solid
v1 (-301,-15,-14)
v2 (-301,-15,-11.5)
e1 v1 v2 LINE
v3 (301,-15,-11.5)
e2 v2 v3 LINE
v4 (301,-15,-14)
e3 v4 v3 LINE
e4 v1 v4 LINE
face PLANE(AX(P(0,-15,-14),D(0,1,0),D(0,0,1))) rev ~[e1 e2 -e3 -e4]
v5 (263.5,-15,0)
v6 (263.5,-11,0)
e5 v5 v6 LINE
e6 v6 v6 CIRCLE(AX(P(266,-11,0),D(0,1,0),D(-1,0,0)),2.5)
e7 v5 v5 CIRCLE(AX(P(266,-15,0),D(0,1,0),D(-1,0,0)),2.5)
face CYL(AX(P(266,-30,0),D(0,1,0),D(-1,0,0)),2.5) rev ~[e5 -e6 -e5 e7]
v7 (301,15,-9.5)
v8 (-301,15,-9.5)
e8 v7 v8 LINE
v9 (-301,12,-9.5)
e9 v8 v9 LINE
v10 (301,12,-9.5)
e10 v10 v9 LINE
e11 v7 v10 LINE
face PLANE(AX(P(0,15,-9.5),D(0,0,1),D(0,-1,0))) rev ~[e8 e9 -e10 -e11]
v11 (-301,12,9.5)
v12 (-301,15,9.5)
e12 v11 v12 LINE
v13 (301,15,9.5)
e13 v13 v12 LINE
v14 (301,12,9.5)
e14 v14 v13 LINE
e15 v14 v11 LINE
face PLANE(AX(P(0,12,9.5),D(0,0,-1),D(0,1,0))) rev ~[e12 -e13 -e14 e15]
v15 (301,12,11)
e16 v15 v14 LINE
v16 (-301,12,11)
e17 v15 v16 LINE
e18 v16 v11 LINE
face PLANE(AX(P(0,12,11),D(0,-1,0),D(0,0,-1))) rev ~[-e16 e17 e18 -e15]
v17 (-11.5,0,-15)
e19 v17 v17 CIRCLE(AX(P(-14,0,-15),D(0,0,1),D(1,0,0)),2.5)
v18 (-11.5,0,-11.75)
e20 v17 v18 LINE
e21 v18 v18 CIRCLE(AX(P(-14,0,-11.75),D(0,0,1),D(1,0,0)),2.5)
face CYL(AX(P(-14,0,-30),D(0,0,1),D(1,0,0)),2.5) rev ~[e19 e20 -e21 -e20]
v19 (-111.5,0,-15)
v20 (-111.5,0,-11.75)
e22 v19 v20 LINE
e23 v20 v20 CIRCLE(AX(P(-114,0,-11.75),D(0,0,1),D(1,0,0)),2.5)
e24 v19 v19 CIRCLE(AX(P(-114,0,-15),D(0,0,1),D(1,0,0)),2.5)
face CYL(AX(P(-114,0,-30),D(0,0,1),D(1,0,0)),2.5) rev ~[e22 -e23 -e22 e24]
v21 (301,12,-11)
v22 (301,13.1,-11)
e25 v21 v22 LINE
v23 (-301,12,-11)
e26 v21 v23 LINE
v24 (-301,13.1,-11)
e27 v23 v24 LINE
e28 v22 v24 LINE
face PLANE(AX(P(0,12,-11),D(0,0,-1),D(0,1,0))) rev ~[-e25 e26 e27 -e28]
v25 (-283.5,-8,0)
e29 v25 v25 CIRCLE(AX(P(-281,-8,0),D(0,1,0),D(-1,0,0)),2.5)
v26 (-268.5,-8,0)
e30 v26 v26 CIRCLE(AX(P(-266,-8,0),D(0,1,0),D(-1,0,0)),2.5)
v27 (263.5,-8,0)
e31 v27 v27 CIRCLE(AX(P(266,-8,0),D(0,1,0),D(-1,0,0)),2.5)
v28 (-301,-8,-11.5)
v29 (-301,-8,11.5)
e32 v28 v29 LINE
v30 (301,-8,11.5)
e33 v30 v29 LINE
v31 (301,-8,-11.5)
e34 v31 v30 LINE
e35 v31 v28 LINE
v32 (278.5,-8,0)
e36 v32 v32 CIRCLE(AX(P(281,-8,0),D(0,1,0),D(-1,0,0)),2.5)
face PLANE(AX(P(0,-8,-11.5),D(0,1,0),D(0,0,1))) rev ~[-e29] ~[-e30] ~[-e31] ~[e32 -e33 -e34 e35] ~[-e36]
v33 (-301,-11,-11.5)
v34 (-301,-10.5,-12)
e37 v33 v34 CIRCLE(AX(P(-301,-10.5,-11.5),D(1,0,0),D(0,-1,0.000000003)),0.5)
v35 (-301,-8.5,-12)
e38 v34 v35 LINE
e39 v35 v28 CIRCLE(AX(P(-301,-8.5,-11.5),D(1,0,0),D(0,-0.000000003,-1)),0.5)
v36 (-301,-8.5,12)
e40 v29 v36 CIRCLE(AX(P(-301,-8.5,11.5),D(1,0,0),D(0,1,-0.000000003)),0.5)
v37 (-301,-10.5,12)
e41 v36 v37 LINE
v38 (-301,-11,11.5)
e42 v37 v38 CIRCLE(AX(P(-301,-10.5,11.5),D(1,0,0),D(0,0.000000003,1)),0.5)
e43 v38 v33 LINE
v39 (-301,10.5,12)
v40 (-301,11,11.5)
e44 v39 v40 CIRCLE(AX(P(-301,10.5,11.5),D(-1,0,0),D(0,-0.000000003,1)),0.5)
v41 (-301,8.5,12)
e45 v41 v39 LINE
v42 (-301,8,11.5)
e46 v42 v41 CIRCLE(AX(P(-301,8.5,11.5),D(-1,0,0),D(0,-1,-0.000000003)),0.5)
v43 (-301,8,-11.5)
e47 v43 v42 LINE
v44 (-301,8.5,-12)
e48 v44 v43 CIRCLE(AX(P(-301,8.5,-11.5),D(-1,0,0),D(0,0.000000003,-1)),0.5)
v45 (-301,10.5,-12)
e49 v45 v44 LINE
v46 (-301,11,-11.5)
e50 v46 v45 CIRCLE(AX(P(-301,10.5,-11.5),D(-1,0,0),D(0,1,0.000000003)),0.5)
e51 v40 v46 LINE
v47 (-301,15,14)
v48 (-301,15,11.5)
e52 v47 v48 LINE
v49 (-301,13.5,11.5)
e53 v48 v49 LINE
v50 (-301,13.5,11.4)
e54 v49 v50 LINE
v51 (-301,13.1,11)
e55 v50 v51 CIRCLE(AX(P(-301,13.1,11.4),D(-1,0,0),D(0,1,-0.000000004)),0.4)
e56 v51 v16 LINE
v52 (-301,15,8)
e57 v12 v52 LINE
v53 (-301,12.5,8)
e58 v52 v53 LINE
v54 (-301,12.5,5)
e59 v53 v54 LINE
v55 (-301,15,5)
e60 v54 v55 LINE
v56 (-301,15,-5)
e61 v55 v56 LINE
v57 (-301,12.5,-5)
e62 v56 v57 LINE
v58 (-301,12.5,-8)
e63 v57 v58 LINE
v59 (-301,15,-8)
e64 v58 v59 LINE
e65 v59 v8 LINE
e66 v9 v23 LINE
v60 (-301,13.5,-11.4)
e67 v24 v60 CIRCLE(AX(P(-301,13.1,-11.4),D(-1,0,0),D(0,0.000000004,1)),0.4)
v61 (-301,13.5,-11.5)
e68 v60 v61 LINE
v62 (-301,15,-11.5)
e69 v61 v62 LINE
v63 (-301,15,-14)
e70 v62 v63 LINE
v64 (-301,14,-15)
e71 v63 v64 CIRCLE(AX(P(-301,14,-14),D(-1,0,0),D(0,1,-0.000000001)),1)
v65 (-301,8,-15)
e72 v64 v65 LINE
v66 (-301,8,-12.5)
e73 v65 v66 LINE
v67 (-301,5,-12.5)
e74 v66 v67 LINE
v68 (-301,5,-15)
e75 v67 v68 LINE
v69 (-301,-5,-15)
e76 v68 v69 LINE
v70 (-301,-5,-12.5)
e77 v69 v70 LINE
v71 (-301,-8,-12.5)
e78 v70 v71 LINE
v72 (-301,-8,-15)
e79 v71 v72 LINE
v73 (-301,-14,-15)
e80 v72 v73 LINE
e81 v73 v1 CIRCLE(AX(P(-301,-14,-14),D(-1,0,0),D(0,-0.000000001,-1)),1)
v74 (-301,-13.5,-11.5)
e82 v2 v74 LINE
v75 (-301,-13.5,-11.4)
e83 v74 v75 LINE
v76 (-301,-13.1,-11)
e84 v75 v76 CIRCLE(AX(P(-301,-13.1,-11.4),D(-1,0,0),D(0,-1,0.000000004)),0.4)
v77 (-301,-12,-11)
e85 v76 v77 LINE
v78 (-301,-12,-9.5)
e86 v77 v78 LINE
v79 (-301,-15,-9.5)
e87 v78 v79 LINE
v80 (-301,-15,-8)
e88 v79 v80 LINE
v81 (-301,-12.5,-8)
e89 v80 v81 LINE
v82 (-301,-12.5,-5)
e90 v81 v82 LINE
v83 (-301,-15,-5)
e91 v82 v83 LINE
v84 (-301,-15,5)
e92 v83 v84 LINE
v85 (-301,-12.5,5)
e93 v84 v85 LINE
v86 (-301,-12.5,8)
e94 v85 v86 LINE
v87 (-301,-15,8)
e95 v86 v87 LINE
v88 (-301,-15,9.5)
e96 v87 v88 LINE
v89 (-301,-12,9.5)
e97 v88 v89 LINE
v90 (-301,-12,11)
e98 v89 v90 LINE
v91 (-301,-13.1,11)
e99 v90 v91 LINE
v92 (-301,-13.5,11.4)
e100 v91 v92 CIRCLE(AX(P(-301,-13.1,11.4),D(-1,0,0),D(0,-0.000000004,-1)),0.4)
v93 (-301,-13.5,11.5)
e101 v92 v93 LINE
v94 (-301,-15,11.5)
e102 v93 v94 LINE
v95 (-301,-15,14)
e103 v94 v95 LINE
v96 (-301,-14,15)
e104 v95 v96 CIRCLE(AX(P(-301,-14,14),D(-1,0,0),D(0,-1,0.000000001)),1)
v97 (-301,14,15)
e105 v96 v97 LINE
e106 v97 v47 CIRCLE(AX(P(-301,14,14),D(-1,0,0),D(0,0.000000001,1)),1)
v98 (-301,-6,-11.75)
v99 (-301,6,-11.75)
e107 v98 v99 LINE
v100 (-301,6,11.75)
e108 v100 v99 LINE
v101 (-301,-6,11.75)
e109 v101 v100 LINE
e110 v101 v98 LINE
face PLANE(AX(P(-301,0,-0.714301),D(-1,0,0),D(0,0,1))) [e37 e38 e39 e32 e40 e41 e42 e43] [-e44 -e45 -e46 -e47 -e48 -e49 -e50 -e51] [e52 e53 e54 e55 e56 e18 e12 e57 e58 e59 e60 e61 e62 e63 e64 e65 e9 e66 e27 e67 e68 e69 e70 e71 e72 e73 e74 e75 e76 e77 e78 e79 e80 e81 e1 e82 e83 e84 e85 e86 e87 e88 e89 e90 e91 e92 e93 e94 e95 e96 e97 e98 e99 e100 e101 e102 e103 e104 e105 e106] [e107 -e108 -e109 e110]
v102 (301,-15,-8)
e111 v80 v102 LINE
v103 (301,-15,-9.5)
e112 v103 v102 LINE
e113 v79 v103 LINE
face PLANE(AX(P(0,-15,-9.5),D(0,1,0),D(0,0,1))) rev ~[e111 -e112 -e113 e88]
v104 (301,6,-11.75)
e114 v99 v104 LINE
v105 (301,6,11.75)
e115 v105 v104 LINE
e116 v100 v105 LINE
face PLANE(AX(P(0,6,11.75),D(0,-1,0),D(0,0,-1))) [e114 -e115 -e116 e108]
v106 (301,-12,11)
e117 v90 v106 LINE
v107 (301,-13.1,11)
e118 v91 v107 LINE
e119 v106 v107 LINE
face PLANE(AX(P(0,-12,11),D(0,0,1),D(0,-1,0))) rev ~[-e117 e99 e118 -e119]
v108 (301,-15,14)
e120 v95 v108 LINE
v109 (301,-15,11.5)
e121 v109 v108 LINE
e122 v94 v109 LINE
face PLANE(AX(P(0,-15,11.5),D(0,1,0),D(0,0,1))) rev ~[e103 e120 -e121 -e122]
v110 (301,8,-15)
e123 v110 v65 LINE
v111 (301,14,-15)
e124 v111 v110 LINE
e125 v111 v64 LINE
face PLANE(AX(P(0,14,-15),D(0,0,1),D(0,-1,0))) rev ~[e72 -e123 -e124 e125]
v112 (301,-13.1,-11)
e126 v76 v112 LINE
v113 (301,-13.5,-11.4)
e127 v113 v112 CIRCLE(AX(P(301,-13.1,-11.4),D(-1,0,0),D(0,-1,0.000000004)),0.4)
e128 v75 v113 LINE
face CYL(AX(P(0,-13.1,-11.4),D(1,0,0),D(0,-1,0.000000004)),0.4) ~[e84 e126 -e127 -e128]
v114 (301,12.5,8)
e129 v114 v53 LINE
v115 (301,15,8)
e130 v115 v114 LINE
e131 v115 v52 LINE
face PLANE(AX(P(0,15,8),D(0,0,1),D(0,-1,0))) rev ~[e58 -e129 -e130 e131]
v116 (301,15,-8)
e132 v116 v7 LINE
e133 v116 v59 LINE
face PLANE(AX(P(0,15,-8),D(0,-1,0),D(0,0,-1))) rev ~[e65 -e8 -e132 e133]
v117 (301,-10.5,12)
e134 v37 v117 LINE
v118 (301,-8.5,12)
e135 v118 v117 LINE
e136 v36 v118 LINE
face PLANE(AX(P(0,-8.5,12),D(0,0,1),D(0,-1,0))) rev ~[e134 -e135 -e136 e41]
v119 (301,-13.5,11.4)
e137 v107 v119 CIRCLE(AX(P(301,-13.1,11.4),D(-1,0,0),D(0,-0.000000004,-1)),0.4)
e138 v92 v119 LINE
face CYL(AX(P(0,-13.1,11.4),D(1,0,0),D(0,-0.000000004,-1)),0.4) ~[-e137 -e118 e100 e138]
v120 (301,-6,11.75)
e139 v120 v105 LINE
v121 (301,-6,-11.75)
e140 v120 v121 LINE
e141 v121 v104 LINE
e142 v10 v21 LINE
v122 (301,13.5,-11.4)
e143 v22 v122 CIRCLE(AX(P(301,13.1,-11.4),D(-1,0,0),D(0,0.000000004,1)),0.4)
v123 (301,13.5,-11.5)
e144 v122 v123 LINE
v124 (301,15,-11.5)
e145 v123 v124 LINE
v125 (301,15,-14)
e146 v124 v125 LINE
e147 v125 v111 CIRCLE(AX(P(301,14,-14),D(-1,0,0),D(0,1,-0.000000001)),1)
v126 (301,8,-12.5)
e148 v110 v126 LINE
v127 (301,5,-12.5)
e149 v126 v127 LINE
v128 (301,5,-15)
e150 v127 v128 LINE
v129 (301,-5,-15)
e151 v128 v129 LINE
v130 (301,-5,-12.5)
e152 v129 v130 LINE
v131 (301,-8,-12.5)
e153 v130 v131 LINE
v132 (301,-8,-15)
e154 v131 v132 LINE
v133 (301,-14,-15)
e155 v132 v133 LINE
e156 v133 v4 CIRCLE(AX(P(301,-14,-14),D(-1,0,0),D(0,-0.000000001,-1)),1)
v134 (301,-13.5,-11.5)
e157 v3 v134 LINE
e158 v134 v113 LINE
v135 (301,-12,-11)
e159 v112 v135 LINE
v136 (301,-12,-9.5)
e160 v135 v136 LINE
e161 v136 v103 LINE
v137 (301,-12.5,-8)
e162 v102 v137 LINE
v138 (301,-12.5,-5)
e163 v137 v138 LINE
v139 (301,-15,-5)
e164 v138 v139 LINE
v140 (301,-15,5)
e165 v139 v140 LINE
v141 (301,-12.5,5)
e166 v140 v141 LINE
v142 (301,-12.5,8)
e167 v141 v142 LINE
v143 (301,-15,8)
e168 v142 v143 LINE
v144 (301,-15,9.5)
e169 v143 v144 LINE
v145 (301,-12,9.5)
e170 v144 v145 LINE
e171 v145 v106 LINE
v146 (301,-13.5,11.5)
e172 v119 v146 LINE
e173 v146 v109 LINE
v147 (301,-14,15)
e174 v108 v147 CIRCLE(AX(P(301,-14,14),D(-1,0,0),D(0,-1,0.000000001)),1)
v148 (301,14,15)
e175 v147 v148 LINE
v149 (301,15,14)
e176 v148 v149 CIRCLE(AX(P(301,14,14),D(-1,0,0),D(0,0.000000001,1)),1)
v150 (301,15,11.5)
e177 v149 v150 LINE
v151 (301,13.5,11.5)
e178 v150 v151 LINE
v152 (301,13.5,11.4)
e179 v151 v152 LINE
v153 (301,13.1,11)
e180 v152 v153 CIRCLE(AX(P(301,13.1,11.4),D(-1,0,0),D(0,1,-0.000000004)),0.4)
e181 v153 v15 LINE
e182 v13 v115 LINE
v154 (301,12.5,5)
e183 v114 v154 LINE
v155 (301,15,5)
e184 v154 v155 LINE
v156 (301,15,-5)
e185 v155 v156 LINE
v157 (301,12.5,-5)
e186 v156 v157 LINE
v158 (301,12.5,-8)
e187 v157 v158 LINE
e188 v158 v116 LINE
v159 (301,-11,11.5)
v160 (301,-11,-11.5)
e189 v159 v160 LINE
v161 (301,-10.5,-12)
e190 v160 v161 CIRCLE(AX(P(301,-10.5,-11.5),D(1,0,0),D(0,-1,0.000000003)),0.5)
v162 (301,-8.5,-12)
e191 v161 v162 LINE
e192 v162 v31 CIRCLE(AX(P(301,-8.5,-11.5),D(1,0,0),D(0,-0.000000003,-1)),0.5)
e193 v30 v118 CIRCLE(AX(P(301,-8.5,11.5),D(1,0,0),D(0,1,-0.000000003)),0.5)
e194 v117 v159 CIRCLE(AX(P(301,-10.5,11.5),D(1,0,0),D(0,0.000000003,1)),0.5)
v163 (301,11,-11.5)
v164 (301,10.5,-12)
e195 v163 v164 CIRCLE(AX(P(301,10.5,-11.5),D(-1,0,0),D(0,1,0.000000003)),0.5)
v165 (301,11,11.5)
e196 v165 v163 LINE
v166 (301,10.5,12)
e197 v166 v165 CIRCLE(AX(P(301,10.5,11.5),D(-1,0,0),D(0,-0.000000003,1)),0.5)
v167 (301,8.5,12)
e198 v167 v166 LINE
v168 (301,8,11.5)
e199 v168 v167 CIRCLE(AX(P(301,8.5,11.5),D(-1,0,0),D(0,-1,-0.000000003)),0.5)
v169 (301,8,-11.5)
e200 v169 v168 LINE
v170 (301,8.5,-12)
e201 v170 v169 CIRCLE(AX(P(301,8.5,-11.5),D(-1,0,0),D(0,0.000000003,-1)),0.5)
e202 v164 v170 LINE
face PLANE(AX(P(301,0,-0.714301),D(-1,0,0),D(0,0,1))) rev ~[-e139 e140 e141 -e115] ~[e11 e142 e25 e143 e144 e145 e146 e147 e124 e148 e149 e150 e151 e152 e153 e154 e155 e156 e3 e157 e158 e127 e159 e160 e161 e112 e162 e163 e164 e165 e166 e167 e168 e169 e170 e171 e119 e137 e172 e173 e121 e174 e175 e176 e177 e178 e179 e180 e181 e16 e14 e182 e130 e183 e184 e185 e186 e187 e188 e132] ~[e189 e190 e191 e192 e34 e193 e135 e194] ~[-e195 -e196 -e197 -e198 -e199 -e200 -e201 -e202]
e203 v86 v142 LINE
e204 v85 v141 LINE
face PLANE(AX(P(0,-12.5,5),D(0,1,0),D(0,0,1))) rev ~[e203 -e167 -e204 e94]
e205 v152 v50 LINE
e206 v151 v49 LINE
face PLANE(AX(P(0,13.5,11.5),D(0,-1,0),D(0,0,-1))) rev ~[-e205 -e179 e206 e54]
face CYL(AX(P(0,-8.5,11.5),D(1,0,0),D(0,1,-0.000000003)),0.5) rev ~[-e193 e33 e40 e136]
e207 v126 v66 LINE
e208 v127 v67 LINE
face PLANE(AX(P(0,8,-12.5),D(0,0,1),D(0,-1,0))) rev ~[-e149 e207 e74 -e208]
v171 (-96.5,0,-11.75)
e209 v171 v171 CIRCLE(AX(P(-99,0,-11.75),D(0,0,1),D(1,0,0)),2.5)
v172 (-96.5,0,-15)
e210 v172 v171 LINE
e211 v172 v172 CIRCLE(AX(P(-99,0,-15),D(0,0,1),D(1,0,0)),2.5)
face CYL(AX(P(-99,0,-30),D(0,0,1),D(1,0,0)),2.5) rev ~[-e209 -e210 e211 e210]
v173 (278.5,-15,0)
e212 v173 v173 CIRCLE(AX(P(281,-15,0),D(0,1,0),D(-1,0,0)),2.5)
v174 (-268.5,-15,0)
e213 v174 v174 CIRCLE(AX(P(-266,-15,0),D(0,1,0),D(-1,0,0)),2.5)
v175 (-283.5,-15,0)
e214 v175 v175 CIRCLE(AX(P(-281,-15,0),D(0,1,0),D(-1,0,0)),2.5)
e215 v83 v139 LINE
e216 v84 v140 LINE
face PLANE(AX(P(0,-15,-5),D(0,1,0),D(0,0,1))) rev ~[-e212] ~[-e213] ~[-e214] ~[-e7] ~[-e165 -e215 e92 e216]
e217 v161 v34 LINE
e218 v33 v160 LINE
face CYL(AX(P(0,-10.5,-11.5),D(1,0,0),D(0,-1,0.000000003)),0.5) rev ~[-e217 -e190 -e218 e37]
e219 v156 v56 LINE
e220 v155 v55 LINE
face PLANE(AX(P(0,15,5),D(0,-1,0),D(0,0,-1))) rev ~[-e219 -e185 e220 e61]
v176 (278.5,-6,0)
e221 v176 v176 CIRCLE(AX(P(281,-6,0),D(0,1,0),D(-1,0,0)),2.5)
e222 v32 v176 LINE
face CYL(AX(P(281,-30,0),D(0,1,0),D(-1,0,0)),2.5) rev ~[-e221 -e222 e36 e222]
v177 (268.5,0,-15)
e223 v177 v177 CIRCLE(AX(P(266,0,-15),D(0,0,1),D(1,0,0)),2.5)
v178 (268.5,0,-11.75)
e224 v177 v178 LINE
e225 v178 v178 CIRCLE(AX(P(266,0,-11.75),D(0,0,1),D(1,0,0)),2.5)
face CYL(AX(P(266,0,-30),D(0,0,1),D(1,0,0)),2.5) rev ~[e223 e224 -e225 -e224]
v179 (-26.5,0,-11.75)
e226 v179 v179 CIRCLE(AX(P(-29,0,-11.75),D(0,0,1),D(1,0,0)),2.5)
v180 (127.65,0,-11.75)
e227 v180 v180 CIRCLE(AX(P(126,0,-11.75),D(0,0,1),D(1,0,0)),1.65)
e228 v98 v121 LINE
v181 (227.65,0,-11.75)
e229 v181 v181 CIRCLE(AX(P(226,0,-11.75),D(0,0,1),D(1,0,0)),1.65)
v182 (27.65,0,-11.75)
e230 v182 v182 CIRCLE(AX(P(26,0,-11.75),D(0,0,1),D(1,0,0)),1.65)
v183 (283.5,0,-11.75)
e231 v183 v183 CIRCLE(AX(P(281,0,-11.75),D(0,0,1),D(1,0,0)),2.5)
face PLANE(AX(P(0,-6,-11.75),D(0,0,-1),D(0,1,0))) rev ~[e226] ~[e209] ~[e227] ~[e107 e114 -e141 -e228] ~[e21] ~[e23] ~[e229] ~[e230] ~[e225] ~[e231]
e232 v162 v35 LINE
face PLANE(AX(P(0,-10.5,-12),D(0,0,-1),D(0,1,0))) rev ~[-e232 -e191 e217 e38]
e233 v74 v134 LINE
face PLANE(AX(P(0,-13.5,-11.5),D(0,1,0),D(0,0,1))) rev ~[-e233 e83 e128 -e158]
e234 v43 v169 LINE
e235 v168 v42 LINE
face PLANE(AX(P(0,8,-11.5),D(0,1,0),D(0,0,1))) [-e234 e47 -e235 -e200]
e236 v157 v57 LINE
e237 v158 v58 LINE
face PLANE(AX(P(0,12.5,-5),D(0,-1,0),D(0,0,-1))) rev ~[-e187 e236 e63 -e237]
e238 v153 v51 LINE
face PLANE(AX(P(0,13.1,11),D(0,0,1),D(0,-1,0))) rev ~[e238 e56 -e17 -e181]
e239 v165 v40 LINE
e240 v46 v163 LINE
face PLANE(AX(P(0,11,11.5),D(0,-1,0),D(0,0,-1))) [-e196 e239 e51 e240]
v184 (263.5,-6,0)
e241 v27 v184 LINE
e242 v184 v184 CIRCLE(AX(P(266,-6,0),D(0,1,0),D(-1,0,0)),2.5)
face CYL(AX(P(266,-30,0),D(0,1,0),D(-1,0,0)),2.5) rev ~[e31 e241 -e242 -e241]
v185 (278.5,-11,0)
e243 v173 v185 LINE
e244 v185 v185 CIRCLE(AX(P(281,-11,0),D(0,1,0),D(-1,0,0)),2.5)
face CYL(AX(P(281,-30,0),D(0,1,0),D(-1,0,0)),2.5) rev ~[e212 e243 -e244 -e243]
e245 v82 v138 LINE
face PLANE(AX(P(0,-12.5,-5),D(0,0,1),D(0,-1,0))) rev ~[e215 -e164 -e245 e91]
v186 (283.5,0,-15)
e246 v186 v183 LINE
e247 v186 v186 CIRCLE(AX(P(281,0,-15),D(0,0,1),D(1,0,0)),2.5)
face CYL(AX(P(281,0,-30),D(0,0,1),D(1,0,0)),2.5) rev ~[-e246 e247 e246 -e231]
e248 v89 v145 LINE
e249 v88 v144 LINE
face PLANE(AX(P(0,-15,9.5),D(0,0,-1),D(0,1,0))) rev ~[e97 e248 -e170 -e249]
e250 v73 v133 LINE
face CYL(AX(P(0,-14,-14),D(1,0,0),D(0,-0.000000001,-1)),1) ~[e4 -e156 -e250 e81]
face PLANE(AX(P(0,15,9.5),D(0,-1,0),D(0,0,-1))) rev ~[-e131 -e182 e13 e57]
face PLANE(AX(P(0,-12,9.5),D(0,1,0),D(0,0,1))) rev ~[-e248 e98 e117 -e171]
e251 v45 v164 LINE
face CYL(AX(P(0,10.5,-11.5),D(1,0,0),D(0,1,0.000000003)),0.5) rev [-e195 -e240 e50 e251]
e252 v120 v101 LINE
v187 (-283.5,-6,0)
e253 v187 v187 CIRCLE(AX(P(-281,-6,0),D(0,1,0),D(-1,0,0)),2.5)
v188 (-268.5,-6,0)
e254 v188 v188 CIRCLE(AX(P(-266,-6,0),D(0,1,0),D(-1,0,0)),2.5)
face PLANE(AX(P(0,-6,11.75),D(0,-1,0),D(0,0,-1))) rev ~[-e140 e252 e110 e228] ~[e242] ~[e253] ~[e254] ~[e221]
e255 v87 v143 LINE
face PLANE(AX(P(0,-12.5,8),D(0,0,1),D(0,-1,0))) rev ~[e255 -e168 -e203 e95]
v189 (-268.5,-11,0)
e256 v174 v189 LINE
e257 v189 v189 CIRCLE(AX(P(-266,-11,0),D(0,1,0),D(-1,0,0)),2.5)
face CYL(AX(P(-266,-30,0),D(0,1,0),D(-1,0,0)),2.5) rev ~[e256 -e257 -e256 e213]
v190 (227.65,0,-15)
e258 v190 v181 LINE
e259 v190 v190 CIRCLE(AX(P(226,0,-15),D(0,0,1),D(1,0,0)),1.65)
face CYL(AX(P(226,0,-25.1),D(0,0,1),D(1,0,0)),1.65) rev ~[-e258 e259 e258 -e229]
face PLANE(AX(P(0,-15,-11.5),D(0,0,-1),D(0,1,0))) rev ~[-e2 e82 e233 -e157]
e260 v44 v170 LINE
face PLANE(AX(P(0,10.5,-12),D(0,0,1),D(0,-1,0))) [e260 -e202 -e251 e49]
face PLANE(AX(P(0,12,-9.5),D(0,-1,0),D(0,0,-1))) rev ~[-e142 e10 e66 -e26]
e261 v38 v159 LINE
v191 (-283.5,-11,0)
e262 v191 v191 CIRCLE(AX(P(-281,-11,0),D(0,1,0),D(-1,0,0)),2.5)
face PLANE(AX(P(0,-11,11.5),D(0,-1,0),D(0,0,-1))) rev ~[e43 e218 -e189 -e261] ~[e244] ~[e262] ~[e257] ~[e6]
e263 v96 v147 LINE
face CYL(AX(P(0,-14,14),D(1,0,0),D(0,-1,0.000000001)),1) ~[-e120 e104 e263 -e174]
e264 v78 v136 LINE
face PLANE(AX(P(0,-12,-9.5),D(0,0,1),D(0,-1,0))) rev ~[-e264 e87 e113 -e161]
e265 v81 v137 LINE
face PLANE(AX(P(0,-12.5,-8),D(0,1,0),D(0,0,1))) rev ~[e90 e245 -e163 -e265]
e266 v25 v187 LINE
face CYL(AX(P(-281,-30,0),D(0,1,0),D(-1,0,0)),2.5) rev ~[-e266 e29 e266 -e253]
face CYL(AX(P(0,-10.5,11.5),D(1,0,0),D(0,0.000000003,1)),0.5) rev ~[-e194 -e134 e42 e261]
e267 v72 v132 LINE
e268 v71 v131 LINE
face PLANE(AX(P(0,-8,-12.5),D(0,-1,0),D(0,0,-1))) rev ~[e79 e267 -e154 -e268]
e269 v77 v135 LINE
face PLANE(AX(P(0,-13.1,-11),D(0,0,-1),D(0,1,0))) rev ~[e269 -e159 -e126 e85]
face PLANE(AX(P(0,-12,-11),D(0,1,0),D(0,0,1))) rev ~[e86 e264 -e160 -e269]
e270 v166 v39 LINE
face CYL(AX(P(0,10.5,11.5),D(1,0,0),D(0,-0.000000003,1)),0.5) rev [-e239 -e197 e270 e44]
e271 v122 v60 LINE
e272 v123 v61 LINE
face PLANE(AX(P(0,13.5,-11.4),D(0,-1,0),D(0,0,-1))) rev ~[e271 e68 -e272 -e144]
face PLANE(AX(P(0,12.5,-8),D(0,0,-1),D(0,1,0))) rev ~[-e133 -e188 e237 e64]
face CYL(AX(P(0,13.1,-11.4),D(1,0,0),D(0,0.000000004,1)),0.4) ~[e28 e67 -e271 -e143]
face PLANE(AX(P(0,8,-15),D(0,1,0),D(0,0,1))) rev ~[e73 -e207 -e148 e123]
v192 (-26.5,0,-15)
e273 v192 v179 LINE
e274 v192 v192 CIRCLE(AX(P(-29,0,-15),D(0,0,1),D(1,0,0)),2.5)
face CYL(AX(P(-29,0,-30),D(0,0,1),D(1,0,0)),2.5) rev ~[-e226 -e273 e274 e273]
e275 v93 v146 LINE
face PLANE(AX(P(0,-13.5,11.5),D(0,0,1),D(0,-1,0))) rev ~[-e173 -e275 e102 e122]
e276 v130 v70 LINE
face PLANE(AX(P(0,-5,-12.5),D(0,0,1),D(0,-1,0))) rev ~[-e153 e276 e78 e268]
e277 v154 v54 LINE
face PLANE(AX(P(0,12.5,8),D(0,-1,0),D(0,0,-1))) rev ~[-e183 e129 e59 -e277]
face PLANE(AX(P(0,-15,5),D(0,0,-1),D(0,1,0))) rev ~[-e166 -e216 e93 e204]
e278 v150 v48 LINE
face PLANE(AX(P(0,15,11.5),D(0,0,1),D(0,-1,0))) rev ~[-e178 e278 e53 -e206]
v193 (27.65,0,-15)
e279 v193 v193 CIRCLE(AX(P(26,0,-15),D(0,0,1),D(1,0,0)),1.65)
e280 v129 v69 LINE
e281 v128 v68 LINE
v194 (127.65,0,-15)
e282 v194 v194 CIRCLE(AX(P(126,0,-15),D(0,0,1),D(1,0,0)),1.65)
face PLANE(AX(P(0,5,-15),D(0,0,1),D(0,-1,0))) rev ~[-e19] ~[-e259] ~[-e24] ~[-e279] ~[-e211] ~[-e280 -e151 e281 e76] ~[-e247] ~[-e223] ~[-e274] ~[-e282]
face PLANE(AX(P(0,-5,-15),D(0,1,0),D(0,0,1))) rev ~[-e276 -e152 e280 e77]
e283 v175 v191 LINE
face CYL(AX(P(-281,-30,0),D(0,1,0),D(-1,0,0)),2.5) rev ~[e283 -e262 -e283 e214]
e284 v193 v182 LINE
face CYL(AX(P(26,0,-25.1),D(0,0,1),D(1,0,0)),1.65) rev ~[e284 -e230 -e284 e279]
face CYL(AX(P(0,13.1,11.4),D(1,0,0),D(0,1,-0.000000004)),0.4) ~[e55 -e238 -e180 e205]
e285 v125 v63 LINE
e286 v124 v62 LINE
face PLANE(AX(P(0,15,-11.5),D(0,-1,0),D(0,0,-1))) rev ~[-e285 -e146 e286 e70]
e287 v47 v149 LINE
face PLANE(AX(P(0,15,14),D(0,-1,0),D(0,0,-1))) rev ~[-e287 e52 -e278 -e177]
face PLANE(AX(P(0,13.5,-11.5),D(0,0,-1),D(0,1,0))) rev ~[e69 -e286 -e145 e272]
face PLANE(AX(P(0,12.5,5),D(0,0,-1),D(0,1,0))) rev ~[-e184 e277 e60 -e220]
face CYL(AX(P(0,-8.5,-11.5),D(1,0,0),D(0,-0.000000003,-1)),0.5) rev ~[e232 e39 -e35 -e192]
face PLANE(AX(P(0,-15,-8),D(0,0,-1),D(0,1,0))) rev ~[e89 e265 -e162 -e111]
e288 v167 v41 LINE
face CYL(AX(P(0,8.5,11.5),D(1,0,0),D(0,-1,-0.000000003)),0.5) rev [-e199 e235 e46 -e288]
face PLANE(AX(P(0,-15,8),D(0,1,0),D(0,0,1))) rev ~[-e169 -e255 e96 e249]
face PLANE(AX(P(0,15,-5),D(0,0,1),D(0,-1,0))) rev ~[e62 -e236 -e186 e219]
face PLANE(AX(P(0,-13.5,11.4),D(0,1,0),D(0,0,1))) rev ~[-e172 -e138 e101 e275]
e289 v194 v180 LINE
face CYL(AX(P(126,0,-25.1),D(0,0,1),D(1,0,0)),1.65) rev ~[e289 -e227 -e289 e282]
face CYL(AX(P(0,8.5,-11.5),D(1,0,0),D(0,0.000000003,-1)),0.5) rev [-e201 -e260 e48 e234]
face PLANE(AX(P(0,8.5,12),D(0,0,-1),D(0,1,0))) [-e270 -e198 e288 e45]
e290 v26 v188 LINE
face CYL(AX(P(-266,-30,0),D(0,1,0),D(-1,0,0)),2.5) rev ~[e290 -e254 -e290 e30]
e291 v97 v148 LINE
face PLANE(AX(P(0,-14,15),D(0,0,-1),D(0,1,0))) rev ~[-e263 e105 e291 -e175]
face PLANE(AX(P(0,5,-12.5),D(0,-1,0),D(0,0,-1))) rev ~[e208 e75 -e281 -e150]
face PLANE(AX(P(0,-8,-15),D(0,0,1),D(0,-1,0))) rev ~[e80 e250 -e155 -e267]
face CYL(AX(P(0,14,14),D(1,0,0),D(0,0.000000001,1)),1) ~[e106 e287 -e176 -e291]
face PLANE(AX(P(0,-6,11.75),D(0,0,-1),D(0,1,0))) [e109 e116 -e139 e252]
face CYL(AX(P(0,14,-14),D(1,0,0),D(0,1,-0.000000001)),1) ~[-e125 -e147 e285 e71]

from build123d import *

# Parameters (mm, degrees)
SKETCH_1_W             = 23.5
SKETCH_1_H             = 12
EXTRUDE_1_DEPTH        = 301
HOLE_WIZARD_M6_1_D     = 5
HOLE_WIZARD_M6_1_DEPTH = 15
HOLE_WIZARD_M6_1_TIP   = 1.502151548
HOLE_WIZARD_M6_2_D     = 5
HOLE_WIZARD_M6_2_DEPTH = 15
HOLE_WIZARD_M6_2_TIP   = 1.502151548
HOLE_WIZARD_M4_1_D     = 3.3
HOLE_WIZARD_M4_1_DEPTH = 10.1
HOLE_WIZARD_M4_1_TIP   = 0.991420021


with BuildPart() as part:
    # 草图1 → 凸台-拉伸1 (new, symmetric)
    with BuildSketch(Plane(origin=(0, 0, 0), x_dir=(0, 0, -1), z_dir=(1, 0, 0))):
        with BuildLine():
            Line((-14, 15), (-11.5, 15))
            Line((-11.5, 15), (-11.5, 13.5))
            Line((-11.5, 13.5), (-11.4, 13.5))
            ThreePointArc((-11.4, 13.5), (-11.117157288, 13.382842712), (-11, 13.1))
            Line((-11, 13.1), (-11, 12))
            Line((-11, 12), (-9.5, 12))
            Line((-9.5, 12), (-9.5, 15))
            Line((-9.5, 15), (-8, 15))
            Line((-8, 15), (-8, 12.5))
            Line((-8, 12.5), (-5, 12.5))
            Line((-5, 12.5), (-5, 15))
            Line((-5, 15), (5, 15))
            Line((5, 15), (5, 12.5))
            Line((5, 12.5), (8, 12.5))
            Line((8, 12.5), (8, 15))
            Line((8, 15), (9.5, 15))
            Line((9.5, 15), (9.5, 12))
            Line((9.5, 12), (11, 12))
            Line((11, 12), (11, 13.1))
            ThreePointArc((11, 13.1), (11.117157288, 13.382842712), (11.4, 13.5))
            Line((11.4, 13.5), (11.5, 13.5))
            Line((11.5, 13.5), (11.5, 15))
            Line((11.5, 15), (14, 15))
            ThreePointArc((14, 15), (14.707106781, 14.707106781), (15, 14))
            Line((15, 14), (15, 8))
            Line((15, 8), (12.5, 8))
            Line((12.5, 8), (12.5, 5))
            Line((12.5, 5), (15, 5))
            Line((15, 5), (15, -5))
            Line((15, -5), (12.5, -5))
            Line((12.5, -5), (12.5, -8))
            Line((12.5, -8), (15, -8))
            Line((15, -8), (15, -14))
            ThreePointArc((15, -14), (14.707106781, -14.707106781), (14, -15))
            Line((14, -15), (11.5, -15))
            Line((11.5, -15), (11.5, -13.5))
            Line((11.5, -13.5), (11.4, -13.5))
            ThreePointArc((11.4, -13.5), (11.117157288, -13.382842712), (11, -13.1))
            Line((11, -13.1), (11, -12))
            Line((11, -12), (9.5, -12))
            Line((9.5, -12), (9.5, -15))
            Line((9.5, -15), (8, -15))
            Line((8, -15), (8, -12.5))
            Line((8, -12.5), (5, -12.5))
            Line((5, -12.5), (5, -15))
            Line((5, -15), (-5, -15))
            Line((-5, -15), (-5, -12.5))
            Line((-5, -12.5), (-8, -12.5))
            Line((-8, -12.5), (-8, -15))
            Line((-8, -15), (-9.5, -15))
            Line((-9.5, -15), (-9.5, -12))
            Line((-9.5, -12), (-11, -12))
            Line((-11, -12), (-11, -13.1))
            ThreePointArc((-11, -13.1), (-11.117157288, -13.382842712), (-11.4, -13.5))
            Line((-11.4, -13.5), (-11.5, -13.5))
            Line((-11.5, -13.5), (-11.5, -15))
            Line((-11.5, -15), (-14, -15))
            ThreePointArc((-14, -15), (-14.707106781, -14.707106781), (-15, -14))
            Line((-15, -14), (-15, 14))
            ThreePointArc((-15, 14), (-14.707106781, 14.707106781), (-14, 15))
        make_face()
        with BuildLine():
            Line((12, -10.5), (12, -8.5))
            ThreePointArc((12, -8.5), (11.853553391, -8.146446609), (11.5, -8))
            Line((11.5, -8), (-11.5, -8))
            ThreePointArc((-11.5, -8), (-11.853553391, -8.146446609), (-12, -8.5))
            Line((-12, -8.5), (-12, -10.5))
            ThreePointArc((-12, -10.5), (-11.853553391, -10.853553391), (-11.5, -11))
            Line((-11.5, -11), (11.5, -11))
            ThreePointArc((11.5, -11), (11.853553391, -10.853553391), (12, -10.5))
        make_face(mode=Mode.SUBTRACT)
        with BuildLine():
            Line((-11.5, 11), (11.5, 11))
            ThreePointArc((11.5, 11), (11.853553391, 10.853553391), (12, 10.5))
            Line((12, 10.5), (12, 8.5))
            ThreePointArc((12, 8.5), (11.853553391, 8.146446609), (11.5, 8))
            Line((11.5, 8), (-11.5, 8))
            ThreePointArc((-11.5, 8), (-11.853553391, 8.146446609), (-12, 8.5))
            Line((-12, 8.5), (-12, 10.5))
            ThreePointArc((-12, 10.5), (-11.853553391, 10.853553391), (-11.5, 11))
        make_face(mode=Mode.SUBTRACT)
        Rectangle(SKETCH_1_W, SKETCH_1_H, mode=Mode.SUBTRACT)
    extrude(amount=EXTRUDE_1_DEPTH, both=True)

    # M6 螺纹孔1
    with Locations(Plane.XZ.offset(15)):
        with Locations((281, 0), (266, 0), (-281, 0), (-266, 0)):
            Hole(HOLE_WIZARD_M6_1_D / 2, depth=HOLE_WIZARD_M6_1_DEPTH)
            with Locations((0, 0, -(HOLE_WIZARD_M6_1_DEPTH + HOLE_WIZARD_M6_1_TIP / 2))):  # 118° drill point
                Cone(0, HOLE_WIZARD_M6_1_D / 2, HOLE_WIZARD_M6_1_TIP, mode=Mode.SUBTRACT)

    # M6 螺纹孔2
    with Locations(Plane(origin=(0, 0, -15), x_dir=(-1, 0, 0), z_dir=(0, 0, -1))):
        with Locations((-281, 0), (-266, 0), (14, 0), (29, 0), (99, 0), (114, 0)):
            Hole(HOLE_WIZARD_M6_2_D / 2, depth=HOLE_WIZARD_M6_2_DEPTH)
            with Locations((0, 0, -(HOLE_WIZARD_M6_2_DEPTH + HOLE_WIZARD_M6_2_TIP / 2))):  # 118° drill point
                Cone(0, HOLE_WIZARD_M6_2_D / 2, HOLE_WIZARD_M6_2_TIP, mode=Mode.SUBTRACT)

    # M4 螺纹孔1
    with Locations(Plane(origin=(0, 0, -15), x_dir=(-1, 0, 0), z_dir=(0, 0, -1))):
        with Locations((-226, 0), (-126, 0), (-26, 0)):
            Hole(HOLE_WIZARD_M4_1_D / 2, depth=HOLE_WIZARD_M4_1_DEPTH)
            with Locations((0, 0, -(HOLE_WIZARD_M4_1_DEPTH + HOLE_WIZARD_M4_1_TIP / 2))):  # 118° drill point
                Cone(0, HOLE_WIZARD_M4_1_D / 2, HOLE_WIZARD_M4_1_TIP, mode=Mode.SUBTRACT)


solid = part.part
